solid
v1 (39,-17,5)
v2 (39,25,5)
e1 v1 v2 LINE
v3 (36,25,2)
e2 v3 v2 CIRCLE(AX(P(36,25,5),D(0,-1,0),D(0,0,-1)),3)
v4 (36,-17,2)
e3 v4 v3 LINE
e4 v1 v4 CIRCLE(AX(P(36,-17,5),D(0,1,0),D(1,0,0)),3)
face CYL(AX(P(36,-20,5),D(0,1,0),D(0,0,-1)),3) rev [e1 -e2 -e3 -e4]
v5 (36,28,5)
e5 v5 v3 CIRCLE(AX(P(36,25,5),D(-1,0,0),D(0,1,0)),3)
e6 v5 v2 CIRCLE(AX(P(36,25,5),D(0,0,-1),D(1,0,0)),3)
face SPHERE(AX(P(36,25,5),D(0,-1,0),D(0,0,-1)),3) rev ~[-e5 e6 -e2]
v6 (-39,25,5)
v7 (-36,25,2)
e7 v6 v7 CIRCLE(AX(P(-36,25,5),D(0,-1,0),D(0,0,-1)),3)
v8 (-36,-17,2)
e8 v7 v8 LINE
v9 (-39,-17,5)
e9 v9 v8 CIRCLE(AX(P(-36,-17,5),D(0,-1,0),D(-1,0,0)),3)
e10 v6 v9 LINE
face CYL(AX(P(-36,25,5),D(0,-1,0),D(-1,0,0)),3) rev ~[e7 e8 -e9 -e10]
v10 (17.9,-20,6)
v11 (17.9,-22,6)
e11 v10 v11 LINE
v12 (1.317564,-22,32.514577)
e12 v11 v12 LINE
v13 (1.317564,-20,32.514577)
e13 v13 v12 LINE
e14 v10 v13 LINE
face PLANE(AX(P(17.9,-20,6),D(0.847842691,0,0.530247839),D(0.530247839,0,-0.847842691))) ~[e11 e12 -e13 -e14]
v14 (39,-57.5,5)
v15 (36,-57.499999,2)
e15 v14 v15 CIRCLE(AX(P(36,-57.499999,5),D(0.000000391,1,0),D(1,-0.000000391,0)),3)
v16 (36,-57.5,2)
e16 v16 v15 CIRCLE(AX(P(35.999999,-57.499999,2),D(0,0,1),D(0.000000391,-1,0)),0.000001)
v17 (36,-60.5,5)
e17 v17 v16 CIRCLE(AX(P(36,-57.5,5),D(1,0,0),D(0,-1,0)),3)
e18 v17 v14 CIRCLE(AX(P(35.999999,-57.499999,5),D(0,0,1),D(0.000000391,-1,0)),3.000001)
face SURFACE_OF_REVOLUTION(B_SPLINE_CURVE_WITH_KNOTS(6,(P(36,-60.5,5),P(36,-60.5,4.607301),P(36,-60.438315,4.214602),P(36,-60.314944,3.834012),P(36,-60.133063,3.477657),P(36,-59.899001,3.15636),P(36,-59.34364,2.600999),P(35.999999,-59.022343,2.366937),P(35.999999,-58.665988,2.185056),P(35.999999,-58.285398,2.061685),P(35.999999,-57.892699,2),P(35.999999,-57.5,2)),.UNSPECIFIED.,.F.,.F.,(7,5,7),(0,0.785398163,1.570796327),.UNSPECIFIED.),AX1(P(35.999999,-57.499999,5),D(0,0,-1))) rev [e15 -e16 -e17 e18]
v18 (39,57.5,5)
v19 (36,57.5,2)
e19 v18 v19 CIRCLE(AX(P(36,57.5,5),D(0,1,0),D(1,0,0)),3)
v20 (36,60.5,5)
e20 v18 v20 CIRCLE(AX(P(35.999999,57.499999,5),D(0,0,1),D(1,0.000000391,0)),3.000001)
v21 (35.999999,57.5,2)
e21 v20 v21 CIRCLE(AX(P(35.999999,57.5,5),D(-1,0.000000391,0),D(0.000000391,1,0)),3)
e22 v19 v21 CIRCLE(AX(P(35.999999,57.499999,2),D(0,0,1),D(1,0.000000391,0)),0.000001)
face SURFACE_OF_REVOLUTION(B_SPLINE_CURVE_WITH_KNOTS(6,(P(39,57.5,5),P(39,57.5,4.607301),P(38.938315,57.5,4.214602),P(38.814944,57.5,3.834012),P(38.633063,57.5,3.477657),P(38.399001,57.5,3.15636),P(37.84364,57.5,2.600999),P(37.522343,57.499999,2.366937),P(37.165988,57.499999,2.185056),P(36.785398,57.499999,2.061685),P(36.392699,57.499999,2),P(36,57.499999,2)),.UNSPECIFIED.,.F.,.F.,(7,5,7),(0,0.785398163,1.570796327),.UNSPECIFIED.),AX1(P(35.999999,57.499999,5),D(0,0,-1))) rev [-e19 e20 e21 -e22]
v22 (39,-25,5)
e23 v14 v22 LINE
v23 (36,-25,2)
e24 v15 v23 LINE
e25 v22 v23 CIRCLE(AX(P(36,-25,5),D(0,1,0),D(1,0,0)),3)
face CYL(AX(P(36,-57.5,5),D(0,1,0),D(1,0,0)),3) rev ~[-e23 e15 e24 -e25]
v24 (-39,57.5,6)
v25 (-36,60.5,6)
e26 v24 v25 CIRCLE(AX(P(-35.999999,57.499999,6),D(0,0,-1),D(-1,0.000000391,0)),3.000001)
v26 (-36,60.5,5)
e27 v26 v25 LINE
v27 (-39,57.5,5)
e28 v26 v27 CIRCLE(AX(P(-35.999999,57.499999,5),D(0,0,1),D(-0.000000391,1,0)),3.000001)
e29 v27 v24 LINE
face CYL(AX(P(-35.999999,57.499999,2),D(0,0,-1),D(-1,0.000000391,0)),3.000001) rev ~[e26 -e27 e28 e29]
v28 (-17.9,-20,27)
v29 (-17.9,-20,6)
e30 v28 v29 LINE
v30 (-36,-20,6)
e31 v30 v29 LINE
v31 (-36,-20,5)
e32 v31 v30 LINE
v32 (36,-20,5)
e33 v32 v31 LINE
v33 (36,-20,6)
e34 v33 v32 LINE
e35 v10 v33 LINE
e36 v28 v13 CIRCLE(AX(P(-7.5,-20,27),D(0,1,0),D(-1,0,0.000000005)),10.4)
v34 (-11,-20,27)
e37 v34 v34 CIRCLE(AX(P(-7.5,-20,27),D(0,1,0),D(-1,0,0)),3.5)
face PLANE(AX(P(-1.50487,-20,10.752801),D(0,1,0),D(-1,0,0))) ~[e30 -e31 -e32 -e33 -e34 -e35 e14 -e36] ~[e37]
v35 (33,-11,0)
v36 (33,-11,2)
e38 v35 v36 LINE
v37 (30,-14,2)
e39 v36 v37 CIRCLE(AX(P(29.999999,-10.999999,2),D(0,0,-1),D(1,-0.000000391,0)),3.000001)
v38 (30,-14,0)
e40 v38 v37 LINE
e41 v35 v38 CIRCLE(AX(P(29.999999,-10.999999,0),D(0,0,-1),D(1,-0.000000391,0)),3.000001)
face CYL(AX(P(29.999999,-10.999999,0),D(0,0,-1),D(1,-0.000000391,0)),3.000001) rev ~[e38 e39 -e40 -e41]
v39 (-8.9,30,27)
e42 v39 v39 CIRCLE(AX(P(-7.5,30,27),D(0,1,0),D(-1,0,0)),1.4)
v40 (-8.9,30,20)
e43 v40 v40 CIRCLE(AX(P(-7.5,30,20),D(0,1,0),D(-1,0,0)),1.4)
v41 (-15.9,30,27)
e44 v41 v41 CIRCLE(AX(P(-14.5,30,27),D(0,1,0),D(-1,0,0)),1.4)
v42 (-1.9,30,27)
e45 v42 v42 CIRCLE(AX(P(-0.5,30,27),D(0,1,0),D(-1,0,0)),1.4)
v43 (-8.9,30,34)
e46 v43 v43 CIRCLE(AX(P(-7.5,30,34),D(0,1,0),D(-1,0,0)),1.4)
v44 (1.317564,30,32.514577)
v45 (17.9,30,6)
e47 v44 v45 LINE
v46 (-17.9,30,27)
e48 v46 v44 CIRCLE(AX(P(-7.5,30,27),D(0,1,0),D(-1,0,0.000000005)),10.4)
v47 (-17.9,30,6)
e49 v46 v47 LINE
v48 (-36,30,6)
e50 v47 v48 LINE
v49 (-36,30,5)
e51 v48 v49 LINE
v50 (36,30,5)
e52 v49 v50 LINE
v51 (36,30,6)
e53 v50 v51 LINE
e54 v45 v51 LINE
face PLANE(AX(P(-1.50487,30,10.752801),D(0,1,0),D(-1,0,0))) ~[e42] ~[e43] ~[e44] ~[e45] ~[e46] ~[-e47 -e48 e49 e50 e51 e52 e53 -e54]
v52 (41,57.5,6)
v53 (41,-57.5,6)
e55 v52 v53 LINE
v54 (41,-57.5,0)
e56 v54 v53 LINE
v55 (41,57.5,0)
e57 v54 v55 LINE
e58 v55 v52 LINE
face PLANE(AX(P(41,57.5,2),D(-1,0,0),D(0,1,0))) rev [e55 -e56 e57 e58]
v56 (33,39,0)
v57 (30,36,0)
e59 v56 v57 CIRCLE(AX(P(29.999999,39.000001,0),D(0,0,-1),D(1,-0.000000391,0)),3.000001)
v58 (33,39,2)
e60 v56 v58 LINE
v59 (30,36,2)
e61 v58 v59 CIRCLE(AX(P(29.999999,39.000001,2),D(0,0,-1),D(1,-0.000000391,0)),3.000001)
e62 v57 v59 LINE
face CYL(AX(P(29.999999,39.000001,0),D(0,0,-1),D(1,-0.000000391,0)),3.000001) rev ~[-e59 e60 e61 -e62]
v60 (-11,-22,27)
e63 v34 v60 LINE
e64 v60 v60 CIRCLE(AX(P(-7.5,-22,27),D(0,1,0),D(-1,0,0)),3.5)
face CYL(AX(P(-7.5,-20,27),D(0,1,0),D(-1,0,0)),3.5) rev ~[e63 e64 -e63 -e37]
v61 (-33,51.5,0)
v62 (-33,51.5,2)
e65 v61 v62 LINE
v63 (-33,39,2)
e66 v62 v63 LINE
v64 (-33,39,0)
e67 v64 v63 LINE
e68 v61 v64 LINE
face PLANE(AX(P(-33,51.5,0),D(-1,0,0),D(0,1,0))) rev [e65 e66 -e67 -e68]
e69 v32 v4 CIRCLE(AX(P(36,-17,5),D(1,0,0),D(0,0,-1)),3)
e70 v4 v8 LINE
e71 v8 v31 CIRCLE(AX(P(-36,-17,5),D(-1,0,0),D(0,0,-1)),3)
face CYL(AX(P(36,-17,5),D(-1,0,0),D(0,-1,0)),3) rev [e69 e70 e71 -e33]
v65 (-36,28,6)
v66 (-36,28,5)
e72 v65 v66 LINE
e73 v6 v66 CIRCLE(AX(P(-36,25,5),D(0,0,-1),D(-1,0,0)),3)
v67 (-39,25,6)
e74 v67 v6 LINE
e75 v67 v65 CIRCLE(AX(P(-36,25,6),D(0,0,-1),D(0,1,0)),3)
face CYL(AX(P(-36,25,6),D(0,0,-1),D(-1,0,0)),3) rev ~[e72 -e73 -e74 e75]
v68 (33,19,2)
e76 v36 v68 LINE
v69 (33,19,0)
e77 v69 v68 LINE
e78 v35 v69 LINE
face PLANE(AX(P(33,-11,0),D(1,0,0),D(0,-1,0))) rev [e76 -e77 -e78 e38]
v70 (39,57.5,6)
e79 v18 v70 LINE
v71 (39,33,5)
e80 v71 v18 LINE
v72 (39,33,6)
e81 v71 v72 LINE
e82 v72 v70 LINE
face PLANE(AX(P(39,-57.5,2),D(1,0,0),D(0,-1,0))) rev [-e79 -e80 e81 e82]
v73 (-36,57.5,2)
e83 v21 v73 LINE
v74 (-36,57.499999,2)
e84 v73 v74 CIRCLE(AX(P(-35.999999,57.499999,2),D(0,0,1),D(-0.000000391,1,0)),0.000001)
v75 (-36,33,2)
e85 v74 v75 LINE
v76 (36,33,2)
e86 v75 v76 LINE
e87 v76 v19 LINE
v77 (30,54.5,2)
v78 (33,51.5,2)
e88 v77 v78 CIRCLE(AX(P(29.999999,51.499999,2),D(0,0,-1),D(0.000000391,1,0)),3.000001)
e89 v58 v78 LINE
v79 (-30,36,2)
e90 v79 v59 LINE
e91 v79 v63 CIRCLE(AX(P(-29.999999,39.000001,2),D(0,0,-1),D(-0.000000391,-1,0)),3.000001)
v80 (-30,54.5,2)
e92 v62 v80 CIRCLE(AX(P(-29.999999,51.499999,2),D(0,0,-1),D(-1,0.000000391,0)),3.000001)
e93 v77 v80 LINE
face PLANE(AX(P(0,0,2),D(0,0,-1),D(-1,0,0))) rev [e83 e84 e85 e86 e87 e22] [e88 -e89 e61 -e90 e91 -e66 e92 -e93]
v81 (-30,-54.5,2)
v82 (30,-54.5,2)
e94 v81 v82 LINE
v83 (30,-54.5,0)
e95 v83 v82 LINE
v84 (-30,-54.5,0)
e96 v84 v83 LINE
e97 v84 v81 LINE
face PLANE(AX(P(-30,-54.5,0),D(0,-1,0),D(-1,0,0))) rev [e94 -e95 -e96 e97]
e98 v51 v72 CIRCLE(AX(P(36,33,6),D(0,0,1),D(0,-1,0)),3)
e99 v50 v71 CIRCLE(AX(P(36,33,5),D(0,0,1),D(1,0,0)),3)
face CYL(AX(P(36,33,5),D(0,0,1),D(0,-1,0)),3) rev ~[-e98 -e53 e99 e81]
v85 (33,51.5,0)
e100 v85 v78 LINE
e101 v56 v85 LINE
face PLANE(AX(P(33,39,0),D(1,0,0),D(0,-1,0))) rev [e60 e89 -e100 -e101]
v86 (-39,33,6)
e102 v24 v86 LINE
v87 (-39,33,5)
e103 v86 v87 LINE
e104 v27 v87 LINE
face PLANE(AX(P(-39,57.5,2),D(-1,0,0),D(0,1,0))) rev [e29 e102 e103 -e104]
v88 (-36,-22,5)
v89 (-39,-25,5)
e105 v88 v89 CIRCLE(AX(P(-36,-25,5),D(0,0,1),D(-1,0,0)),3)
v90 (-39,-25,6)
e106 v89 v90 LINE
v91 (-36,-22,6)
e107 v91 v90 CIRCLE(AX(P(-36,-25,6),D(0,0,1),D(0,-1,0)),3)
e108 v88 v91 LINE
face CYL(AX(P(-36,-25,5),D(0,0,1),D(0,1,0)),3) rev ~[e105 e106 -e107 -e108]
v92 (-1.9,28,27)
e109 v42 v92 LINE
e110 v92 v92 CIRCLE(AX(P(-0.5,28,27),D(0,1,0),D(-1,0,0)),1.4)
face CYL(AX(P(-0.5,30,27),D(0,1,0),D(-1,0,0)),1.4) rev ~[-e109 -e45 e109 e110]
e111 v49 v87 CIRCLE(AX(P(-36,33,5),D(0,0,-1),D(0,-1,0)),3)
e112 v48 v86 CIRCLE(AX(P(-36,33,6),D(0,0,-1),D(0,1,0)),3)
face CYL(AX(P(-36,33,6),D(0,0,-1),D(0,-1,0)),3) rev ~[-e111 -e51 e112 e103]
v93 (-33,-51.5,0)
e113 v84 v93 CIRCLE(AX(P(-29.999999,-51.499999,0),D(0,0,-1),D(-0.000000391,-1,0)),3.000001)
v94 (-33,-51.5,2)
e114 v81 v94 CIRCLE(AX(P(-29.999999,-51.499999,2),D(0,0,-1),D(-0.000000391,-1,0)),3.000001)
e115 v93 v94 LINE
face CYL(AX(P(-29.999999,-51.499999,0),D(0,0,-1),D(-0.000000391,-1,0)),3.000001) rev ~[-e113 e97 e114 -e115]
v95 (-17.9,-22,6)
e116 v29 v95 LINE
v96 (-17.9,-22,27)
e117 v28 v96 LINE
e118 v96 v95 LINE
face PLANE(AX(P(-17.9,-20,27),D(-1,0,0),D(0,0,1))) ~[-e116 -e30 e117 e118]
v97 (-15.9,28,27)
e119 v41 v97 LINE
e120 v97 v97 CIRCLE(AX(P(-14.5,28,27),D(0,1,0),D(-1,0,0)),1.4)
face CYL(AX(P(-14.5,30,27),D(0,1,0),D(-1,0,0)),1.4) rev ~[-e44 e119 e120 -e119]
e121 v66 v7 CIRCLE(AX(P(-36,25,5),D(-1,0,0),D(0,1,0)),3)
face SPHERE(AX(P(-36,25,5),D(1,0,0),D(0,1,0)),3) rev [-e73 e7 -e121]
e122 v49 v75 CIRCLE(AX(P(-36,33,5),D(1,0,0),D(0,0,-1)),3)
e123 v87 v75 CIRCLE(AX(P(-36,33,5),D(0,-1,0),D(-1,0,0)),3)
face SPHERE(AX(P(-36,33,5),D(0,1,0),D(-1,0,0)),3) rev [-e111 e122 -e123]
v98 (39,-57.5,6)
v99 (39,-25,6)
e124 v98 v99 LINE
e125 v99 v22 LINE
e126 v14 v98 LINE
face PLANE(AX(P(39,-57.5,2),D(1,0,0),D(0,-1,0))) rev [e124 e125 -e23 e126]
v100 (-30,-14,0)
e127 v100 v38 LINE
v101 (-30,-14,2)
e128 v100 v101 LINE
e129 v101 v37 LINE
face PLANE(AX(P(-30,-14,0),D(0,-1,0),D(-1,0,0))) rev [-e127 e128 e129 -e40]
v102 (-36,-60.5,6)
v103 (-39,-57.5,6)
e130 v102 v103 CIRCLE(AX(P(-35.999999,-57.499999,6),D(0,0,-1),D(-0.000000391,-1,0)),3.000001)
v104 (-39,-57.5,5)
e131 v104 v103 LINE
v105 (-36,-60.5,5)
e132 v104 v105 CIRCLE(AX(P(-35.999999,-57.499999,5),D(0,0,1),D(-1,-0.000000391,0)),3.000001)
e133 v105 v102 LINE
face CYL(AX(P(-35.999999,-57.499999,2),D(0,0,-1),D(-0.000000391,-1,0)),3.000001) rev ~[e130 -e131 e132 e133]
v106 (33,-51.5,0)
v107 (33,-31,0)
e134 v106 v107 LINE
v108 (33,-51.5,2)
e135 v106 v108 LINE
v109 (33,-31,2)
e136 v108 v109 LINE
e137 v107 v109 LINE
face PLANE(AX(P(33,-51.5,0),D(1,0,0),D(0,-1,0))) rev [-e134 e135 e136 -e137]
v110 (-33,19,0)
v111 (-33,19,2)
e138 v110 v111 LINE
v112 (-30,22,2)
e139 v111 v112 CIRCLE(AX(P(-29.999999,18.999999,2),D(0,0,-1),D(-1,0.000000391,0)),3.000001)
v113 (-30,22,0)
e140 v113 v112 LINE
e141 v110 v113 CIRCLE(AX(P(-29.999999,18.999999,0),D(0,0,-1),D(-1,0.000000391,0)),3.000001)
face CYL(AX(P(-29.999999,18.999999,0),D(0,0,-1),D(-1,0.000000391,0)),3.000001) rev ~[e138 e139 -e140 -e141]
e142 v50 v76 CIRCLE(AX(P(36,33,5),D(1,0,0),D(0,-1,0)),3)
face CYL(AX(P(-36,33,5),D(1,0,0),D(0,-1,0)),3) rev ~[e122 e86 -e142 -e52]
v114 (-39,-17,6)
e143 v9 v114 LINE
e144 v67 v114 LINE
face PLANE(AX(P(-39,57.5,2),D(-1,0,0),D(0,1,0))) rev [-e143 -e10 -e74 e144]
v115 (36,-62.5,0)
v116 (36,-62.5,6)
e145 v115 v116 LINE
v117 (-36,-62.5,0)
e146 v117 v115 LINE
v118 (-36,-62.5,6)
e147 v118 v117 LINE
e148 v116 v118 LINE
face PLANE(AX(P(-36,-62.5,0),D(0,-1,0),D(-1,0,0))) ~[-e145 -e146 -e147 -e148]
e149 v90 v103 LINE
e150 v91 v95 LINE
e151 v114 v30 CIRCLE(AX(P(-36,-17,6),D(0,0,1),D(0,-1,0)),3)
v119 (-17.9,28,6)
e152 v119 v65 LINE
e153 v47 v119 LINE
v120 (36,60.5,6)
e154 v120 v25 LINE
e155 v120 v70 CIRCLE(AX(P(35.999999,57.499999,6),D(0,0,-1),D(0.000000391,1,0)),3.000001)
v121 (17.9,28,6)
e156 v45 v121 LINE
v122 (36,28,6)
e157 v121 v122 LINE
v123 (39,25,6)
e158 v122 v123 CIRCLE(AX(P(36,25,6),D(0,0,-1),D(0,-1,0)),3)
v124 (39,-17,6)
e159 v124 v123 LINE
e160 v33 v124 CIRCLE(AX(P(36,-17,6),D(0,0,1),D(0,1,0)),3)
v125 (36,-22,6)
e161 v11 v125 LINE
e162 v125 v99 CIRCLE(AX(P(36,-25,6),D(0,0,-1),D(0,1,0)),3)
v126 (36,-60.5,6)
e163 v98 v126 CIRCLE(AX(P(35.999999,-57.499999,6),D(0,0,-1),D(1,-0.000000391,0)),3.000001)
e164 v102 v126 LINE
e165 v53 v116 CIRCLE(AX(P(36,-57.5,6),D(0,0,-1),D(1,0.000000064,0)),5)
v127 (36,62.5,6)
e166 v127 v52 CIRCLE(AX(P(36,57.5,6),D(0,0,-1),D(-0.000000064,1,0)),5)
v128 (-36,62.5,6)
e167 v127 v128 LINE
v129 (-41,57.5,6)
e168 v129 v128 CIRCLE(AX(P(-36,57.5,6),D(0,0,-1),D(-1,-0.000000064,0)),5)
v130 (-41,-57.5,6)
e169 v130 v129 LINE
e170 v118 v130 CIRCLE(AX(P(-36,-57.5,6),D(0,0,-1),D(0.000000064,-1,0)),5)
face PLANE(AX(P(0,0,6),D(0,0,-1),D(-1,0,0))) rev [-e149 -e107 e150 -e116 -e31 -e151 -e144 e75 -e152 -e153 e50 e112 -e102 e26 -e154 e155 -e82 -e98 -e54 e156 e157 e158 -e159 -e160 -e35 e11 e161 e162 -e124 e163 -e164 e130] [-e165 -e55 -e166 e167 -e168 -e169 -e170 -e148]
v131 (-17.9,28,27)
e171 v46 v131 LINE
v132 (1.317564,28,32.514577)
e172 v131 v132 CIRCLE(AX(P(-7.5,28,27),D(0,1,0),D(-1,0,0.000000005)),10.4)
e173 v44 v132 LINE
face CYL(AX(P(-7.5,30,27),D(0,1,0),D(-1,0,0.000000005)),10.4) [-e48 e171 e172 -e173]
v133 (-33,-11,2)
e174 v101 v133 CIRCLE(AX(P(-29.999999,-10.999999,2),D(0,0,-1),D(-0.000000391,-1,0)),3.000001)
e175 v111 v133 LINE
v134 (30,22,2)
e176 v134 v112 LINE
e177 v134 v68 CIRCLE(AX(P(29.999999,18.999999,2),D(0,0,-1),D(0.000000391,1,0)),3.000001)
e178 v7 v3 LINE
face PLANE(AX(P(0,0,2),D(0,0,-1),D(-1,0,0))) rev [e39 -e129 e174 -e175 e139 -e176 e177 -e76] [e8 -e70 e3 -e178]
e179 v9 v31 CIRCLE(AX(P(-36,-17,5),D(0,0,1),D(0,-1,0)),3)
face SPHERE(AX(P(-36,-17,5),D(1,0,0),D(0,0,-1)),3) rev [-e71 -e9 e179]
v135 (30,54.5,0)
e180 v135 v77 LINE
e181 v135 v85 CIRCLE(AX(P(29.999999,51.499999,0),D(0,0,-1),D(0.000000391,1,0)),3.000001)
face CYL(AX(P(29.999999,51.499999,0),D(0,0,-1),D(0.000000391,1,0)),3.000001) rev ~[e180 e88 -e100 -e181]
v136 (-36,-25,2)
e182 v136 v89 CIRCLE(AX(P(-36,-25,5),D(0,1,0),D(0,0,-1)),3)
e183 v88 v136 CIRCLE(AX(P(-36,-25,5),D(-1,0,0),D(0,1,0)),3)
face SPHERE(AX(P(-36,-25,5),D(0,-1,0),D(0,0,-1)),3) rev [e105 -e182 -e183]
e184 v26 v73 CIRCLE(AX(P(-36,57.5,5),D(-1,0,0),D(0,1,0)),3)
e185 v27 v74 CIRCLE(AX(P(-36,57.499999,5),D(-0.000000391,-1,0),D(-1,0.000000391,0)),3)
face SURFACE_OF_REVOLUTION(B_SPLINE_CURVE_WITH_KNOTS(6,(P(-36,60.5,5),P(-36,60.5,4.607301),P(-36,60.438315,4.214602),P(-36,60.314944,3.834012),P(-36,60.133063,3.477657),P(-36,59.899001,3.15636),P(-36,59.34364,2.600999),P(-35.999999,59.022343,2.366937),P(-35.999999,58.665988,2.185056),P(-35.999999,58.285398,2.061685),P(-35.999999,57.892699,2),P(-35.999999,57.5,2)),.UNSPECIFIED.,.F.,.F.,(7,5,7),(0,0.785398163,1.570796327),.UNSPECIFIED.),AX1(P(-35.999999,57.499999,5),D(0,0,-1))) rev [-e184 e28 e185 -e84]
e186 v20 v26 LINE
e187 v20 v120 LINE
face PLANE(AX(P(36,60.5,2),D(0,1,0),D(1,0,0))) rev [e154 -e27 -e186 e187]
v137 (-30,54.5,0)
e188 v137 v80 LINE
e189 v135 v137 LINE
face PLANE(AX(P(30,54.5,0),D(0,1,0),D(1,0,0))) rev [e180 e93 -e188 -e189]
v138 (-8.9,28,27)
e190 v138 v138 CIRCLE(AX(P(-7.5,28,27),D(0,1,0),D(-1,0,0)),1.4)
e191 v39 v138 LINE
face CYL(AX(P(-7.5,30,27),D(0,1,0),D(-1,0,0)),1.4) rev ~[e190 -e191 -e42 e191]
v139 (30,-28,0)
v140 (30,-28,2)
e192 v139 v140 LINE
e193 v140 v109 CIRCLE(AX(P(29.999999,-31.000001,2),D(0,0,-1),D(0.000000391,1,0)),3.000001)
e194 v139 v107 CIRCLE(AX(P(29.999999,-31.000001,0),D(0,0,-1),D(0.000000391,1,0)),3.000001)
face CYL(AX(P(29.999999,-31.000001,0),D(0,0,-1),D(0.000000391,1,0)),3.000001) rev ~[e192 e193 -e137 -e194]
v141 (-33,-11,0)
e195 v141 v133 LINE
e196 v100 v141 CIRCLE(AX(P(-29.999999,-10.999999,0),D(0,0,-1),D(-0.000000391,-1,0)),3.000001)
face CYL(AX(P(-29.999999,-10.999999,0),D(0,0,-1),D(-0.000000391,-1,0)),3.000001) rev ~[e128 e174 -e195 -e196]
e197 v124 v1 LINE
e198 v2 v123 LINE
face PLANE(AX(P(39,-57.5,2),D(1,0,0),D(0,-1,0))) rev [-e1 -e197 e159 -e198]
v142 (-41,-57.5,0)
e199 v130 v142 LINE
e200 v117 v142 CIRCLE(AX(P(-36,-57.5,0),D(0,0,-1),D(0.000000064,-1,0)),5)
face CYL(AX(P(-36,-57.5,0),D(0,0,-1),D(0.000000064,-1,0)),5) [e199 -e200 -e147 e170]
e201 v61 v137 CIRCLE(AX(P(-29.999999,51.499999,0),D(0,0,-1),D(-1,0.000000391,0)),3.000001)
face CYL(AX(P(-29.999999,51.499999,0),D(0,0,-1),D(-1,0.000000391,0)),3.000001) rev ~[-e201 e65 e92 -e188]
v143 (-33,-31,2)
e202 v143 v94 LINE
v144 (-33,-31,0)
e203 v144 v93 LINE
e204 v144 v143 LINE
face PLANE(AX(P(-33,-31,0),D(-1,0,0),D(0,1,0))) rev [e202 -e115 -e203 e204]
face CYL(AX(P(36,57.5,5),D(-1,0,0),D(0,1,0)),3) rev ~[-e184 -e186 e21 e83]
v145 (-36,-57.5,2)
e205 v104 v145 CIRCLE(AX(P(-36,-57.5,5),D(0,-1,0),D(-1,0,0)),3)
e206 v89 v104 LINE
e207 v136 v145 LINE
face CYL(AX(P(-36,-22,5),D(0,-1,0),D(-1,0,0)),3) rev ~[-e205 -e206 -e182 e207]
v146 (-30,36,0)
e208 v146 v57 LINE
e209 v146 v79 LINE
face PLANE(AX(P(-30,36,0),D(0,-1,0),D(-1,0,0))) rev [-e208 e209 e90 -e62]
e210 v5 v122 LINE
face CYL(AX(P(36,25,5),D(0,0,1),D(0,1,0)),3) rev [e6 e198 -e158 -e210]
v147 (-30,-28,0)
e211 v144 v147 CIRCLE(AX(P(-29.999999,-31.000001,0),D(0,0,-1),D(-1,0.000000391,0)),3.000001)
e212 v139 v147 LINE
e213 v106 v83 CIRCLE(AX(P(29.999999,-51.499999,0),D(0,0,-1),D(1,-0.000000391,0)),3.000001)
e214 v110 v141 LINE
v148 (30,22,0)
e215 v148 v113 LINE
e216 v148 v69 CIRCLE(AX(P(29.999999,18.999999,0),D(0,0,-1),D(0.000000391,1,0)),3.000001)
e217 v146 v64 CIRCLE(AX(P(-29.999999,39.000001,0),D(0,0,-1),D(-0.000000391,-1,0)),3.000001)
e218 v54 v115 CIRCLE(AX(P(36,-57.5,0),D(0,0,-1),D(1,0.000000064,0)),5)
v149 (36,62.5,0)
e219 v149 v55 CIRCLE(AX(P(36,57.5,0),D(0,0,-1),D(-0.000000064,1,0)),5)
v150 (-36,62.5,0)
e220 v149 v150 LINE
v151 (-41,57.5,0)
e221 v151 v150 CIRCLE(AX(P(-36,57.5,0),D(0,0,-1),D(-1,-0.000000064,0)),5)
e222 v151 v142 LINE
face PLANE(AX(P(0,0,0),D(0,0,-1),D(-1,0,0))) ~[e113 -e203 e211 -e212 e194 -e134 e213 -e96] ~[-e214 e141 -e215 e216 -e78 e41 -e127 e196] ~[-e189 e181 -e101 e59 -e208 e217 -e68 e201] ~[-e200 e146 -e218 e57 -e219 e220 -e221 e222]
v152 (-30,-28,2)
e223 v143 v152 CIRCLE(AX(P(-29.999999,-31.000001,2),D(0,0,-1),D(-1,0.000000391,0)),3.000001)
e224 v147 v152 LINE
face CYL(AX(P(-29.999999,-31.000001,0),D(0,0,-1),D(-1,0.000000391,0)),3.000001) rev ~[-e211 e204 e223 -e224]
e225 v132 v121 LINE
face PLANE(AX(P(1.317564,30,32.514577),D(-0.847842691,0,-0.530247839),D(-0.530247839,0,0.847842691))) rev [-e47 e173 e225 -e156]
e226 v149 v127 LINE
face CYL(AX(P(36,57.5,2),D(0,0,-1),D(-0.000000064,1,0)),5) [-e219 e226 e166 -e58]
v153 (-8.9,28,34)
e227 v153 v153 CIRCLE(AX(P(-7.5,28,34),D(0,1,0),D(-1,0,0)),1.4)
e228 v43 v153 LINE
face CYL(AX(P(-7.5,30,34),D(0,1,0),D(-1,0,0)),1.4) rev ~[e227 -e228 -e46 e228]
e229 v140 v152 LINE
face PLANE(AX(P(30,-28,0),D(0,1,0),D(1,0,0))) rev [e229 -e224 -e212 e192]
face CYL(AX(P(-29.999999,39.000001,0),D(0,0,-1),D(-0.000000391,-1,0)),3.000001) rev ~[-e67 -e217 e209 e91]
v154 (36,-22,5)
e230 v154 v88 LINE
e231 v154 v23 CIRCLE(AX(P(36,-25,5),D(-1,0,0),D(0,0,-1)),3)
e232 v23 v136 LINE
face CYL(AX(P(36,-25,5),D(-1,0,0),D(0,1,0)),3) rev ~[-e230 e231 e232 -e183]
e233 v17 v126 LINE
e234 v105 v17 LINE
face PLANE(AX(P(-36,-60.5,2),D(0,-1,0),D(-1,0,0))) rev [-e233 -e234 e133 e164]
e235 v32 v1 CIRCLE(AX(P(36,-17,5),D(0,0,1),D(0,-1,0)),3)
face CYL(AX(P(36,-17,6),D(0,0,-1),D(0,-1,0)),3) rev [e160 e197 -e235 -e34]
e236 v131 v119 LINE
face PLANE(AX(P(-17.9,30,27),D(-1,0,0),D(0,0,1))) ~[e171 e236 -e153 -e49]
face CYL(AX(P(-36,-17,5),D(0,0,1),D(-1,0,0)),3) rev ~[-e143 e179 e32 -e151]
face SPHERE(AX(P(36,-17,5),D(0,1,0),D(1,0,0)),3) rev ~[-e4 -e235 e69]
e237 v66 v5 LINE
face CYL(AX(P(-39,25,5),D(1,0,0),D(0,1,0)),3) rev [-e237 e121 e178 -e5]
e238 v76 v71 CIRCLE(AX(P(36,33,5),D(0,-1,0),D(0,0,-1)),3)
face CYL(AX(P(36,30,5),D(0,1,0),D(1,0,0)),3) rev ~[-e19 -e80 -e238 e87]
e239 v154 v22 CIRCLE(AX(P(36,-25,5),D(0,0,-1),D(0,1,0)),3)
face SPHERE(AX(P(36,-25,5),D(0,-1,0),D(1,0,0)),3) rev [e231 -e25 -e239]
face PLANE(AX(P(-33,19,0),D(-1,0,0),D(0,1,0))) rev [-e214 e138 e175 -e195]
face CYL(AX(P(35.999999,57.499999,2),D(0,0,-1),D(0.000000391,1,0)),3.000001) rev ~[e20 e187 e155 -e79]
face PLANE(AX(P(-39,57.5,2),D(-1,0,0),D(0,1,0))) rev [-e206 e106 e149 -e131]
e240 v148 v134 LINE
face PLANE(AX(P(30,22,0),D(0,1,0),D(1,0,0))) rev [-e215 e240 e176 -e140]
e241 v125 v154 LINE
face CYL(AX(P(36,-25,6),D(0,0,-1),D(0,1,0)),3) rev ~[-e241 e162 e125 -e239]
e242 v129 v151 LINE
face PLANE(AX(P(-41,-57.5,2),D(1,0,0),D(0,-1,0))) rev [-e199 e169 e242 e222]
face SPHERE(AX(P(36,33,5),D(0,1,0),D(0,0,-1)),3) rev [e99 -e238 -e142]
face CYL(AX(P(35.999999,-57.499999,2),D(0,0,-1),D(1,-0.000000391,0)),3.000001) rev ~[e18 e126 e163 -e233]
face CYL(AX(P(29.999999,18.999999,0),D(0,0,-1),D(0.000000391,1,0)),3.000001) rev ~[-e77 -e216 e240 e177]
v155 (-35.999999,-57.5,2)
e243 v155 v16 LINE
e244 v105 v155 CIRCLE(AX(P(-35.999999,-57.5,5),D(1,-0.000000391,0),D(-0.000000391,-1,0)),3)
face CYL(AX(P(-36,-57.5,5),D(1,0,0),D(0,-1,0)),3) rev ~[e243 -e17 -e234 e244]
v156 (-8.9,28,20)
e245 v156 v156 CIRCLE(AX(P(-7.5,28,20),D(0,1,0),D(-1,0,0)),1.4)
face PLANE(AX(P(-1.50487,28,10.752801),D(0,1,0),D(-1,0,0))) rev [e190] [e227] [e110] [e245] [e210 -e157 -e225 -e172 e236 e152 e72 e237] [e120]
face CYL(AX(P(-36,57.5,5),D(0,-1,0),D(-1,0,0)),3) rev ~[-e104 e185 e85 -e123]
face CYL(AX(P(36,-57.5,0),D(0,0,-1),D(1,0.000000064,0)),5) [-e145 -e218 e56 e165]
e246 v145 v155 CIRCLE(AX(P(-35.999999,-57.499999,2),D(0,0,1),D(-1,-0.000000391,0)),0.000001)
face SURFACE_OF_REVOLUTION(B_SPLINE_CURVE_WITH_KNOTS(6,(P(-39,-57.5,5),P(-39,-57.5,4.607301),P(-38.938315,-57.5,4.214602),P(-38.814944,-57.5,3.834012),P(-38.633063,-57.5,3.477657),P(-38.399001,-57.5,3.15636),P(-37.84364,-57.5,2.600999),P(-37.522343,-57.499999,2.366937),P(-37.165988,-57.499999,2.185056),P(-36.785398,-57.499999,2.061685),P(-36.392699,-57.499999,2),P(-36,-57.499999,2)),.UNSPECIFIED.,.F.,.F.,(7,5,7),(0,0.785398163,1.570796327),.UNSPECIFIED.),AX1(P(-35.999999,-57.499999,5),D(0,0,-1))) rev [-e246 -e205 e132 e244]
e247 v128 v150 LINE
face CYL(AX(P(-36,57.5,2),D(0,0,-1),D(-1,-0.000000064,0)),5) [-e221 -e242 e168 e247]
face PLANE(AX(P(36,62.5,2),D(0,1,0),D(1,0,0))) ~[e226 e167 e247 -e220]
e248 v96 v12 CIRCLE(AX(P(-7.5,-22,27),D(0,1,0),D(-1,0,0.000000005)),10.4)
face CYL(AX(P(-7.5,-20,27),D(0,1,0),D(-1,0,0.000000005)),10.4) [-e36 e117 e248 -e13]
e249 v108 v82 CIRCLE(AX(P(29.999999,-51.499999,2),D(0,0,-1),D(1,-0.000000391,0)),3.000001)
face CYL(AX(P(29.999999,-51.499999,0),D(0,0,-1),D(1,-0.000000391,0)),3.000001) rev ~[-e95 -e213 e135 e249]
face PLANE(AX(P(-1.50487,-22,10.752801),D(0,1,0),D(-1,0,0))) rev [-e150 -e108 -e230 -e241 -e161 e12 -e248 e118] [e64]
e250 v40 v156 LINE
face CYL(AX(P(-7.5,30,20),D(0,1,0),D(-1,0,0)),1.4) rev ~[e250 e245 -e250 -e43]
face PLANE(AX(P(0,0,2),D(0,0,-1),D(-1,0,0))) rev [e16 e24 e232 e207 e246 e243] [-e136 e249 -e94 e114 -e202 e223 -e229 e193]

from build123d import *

# Parameters (mm, degrees)
PAD_DEPTH    = 2
SKETCH001_R  = 3.5
PAD001_DEPTH = 2
SKETCH003_R  = 1.4
PAD003_DEPTH = 2
PAD004_DEPTH = 4
FILLET_R     = 3
FILLET001_R  = 3
FILLET002_R  = 3
FILLET003_R  = 3
FILLET004_R  = 3
FILLET005_R  = 3
FILLET006_R  = 3
FILLET007_R  = 3


with BuildPart() as body:
    # Sketch → Pad (new body)
    with BuildSketch(Plane.XY):
        with BuildLine():
            Line((-36, 62.5), (36, 62.5))
            ThreePointArc((41, 57.5), (39.535534, 61.035534), (36, 62.5))
            Line((41, 57.5), (41, -57.5))
            ThreePointArc((36, -62.5), (39.535534, -61.035534), (41, -57.5))
            Line((36, -62.5), (-36, -62.5))
            ThreePointArc((-41, -57.5), (-39.535534, -61.035534), (-36, -62.5))
            Line((-41, -57.5), (-41, 57.5))
            ThreePointArc((-36, 62.5), (-39.535534, 61.035534), (-41, 57.5))
        make_face()
        with BuildLine():
            ThreePointArc((-30, 54.5), (-32.12132, 53.62132), (-33, 51.5))
            Line((-33, 39), (-33, 51.5))
            ThreePointArc((-33, 39), (-32.12132, 36.87868), (-30, 36))
            Line((30, 36), (-30, 36))
            ThreePointArc((30, 36), (32.12132, 36.87868), (33, 39))
            Line((33, 51.5), (33, 39))
            ThreePointArc((33, 51.5), (32.12132, 53.62132), (30, 54.5))
            Line((-30, 54.5), (30, 54.5))
        make_face(mode=Mode.SUBTRACT)
        with BuildLine():
            ThreePointArc((-30, -28), (-32.12132, -28.87868), (-33, -31))
            Line((-33, -51.5), (-33, -31))
            ThreePointArc((-33, -51.5), (-32.12132, -53.62132), (-30, -54.5))
            Line((30, -54.5), (-30, -54.5))
            ThreePointArc((30, -54.5), (32.12132, -53.62132), (33, -51.5))
            Line((33, -31), (33, -51.5))
            ThreePointArc((33, -31), (32.12132, -28.87868), (30, -28))
            Line((-30, -28), (30, -28))
        make_face(mode=Mode.SUBTRACT)
        with BuildLine():
            ThreePointArc((-30, 22), (-32.12132, 21.12132), (-33, 19))
            Line((-33, -11), (-33, 19))
            ThreePointArc((-33, -11), (-32.12132, -13.12132), (-30, -14))
            Line((30, -14), (-30, -14))
            ThreePointArc((30, -14), (32.12132, -13.12132), (33, -11))
            Line((33, 19), (33, -11))
            ThreePointArc((33, 19), (32.12132, 21.12132), (30, 22))
            Line((-30, 22), (30, 22))
        make_face(mode=Mode.SUBTRACT)
    extrude(amount=PAD_DEPTH)

    # Sketch001 → Pad001 (join)
    with BuildSketch(Plane(origin=(7.5, -20, 0), x_dir=(1, 0, 0), z_dir=(0, -1, 0))):
        with BuildLine():
            Line((10.4, 27), (10.4, 6))
            Line((33.5, 6), (10.4, 6))
            Line((33.5, 2), (33.5, 6))
            Line((-48.5, 2), (33.5, 2))
            Line((-48.5, 6), (-48.5, 2))
            Line((-25.4, 6), (-48.5, 6))
            Line((-25.4, 6), (-8.817564, 32.514577))
            ThreePointArc((10.4, 27), (2.868565, 36.996566), (-8.817564, 32.514577))
        make_face()
        with Locations((0, 27)):
            Circle(SKETCH001_R, mode=Mode.SUBTRACT)
    extrude(amount=PAD001_DEPTH)

    # Sketch003 → Pad003 (join)
    with BuildSketch(Plane(origin=(7.5, 30, 0), x_dir=(1, 0, 0), z_dir=(0, -1, 0))):
        with BuildLine():
            Line((33.5, 2), (-48.5, 2))
            Line((-48.5, 6), (-48.5, 2))
            Line((-25.4, 6), (-48.5, 6))
            Line((-8.817564, 32.514577), (-25.4, 6))
            ThreePointArc((10.4, 27), (2.868565, 36.996566), (-8.817564, 32.514577))
            Line((10.4, 27), (10.4, 6))
            Line((10.4, 6), (33.5, 6))
            Line((33.5, 6), (33.5, 2))
        make_face()
        with Locations((0, 27)):
            Circle(SKETCH003_R, mode=Mode.SUBTRACT)
        with Locations((-7, 27)):
            Circle(SKETCH003_R, mode=Mode.SUBTRACT)
        with Locations((0, 20)):
            Circle(SKETCH003_R, mode=Mode.SUBTRACT)
        with Locations((7, 27)):
            Circle(SKETCH003_R, mode=Mode.SUBTRACT)
        with Locations((0, 34)):
            Circle(SKETCH003_R, mode=Mode.SUBTRACT)
    extrude(amount=PAD003_DEPTH)

    # Sketch004 (on Face5 of Pad003) → Pad004 (join)
    with BuildSketch(Plane.XY.offset(2)):
        with BuildLine():
            Line((-36, 62.5), (36, 62.5))
            ThreePointArc((41, 57.5), (39.535534, 61.035534), (36, 62.5))
            Line((41, -57.5), (41, 57.5))
            ThreePointArc((36, -62.5), (39.535534, -61.035534), (41, -57.5))
            Line((-36, -62.5), (36, -62.5))
            ThreePointArc((-41, -57.5), (-39.535534, -61.035534), (-36, -62.5))
            Line((-41, 57.5), (-41, -57.5))
            ThreePointArc((-36, 62.5), (-39.535534, 61.035534), (-41, 57.5))
        make_face()
        with BuildLine():
            Line((-36, 60.5), (36, 60.5))
            ThreePointArc((39, 57.5), (38.12132, 59.62132), (36, 60.5))
            Line((39, 57.5), (39, -57.5))
            ThreePointArc((36, -60.5), (38.12132, -59.62132), (39, -57.5))
            Line((36, -60.5), (-36, -60.5))
            ThreePointArc((-39, -57.5), (-38.12132, -59.62132), (-36, -60.5))
            Line((-39, -57.5), (-39, 57.5))
            ThreePointArc((-36, 60.5), (-38.12132, 59.62132), (-39, 57.5))
        make_face(mode=Mode.SUBTRACT)
    extrude(amount=PAD004_DEPTH)

    # Fillet
    fillet_edges = [body.edges().sort_by_distance(p)[0] for p in [
        (-39, 4, 2),
    ]]
    fillet(fillet_edges, radius=FILLET_R)

    # Fillet001
    fillet001_edges = [body.edges().sort_by_distance(p)[0] for p in [
        (-39, -39.75, 2),
    ]]
    fillet(fillet001_edges, radius=FILLET001_R)

    # Fillet002
    fillet002_edges = [body.edges().sort_by_distance(p)[0] for p in [
        (0, -22, 2),
    ]]
    fillet(fillet002_edges, radius=FILLET002_R)

    # Fillet003
    fillet003_edges = [body.edges().sort_by_distance(p)[0] for p in [
        (1.5, 28, 2),
    ]]
    fillet(fillet003_edges, radius=FILLET003_R)

    # Fillet004
    fillet004_edges = [body.edges().sort_by_distance(p)[0] for p in [
        (1.5, -20, 2),
    ]]
    fillet(fillet004_edges, radius=FILLET004_R)

    # Fillet005
    fillet005_edges = [body.edges().sort_by_distance(p)[0] for p in [
        (39, 4, 2),
    ]]
    fillet(fillet005_edges, radius=FILLET005_R)

    # Fillet006
    fillet006_edges = [body.edges().sort_by_distance(p)[0] for p in [
        (0, 60.5, 2),
    ]]
    fillet(fillet006_edges, radius=FILLET006_R)

    # Fillet007
    fillet007_edges = [body.edges().sort_by_distance(p)[0] for p in [
        (0, 30, 2),
    ]]
    fillet(fillet007_edges, radius=FILLET007_R)


with BuildPart() as part_mirroring:
    # Part__Mirroring: instance of Body
    add(body.part.mirror(Plane(origin=(0, 0, 0), x_dir=(0, -1, 0), z_dir=(1, 0, 0))))


solid = part_mirroring.part
